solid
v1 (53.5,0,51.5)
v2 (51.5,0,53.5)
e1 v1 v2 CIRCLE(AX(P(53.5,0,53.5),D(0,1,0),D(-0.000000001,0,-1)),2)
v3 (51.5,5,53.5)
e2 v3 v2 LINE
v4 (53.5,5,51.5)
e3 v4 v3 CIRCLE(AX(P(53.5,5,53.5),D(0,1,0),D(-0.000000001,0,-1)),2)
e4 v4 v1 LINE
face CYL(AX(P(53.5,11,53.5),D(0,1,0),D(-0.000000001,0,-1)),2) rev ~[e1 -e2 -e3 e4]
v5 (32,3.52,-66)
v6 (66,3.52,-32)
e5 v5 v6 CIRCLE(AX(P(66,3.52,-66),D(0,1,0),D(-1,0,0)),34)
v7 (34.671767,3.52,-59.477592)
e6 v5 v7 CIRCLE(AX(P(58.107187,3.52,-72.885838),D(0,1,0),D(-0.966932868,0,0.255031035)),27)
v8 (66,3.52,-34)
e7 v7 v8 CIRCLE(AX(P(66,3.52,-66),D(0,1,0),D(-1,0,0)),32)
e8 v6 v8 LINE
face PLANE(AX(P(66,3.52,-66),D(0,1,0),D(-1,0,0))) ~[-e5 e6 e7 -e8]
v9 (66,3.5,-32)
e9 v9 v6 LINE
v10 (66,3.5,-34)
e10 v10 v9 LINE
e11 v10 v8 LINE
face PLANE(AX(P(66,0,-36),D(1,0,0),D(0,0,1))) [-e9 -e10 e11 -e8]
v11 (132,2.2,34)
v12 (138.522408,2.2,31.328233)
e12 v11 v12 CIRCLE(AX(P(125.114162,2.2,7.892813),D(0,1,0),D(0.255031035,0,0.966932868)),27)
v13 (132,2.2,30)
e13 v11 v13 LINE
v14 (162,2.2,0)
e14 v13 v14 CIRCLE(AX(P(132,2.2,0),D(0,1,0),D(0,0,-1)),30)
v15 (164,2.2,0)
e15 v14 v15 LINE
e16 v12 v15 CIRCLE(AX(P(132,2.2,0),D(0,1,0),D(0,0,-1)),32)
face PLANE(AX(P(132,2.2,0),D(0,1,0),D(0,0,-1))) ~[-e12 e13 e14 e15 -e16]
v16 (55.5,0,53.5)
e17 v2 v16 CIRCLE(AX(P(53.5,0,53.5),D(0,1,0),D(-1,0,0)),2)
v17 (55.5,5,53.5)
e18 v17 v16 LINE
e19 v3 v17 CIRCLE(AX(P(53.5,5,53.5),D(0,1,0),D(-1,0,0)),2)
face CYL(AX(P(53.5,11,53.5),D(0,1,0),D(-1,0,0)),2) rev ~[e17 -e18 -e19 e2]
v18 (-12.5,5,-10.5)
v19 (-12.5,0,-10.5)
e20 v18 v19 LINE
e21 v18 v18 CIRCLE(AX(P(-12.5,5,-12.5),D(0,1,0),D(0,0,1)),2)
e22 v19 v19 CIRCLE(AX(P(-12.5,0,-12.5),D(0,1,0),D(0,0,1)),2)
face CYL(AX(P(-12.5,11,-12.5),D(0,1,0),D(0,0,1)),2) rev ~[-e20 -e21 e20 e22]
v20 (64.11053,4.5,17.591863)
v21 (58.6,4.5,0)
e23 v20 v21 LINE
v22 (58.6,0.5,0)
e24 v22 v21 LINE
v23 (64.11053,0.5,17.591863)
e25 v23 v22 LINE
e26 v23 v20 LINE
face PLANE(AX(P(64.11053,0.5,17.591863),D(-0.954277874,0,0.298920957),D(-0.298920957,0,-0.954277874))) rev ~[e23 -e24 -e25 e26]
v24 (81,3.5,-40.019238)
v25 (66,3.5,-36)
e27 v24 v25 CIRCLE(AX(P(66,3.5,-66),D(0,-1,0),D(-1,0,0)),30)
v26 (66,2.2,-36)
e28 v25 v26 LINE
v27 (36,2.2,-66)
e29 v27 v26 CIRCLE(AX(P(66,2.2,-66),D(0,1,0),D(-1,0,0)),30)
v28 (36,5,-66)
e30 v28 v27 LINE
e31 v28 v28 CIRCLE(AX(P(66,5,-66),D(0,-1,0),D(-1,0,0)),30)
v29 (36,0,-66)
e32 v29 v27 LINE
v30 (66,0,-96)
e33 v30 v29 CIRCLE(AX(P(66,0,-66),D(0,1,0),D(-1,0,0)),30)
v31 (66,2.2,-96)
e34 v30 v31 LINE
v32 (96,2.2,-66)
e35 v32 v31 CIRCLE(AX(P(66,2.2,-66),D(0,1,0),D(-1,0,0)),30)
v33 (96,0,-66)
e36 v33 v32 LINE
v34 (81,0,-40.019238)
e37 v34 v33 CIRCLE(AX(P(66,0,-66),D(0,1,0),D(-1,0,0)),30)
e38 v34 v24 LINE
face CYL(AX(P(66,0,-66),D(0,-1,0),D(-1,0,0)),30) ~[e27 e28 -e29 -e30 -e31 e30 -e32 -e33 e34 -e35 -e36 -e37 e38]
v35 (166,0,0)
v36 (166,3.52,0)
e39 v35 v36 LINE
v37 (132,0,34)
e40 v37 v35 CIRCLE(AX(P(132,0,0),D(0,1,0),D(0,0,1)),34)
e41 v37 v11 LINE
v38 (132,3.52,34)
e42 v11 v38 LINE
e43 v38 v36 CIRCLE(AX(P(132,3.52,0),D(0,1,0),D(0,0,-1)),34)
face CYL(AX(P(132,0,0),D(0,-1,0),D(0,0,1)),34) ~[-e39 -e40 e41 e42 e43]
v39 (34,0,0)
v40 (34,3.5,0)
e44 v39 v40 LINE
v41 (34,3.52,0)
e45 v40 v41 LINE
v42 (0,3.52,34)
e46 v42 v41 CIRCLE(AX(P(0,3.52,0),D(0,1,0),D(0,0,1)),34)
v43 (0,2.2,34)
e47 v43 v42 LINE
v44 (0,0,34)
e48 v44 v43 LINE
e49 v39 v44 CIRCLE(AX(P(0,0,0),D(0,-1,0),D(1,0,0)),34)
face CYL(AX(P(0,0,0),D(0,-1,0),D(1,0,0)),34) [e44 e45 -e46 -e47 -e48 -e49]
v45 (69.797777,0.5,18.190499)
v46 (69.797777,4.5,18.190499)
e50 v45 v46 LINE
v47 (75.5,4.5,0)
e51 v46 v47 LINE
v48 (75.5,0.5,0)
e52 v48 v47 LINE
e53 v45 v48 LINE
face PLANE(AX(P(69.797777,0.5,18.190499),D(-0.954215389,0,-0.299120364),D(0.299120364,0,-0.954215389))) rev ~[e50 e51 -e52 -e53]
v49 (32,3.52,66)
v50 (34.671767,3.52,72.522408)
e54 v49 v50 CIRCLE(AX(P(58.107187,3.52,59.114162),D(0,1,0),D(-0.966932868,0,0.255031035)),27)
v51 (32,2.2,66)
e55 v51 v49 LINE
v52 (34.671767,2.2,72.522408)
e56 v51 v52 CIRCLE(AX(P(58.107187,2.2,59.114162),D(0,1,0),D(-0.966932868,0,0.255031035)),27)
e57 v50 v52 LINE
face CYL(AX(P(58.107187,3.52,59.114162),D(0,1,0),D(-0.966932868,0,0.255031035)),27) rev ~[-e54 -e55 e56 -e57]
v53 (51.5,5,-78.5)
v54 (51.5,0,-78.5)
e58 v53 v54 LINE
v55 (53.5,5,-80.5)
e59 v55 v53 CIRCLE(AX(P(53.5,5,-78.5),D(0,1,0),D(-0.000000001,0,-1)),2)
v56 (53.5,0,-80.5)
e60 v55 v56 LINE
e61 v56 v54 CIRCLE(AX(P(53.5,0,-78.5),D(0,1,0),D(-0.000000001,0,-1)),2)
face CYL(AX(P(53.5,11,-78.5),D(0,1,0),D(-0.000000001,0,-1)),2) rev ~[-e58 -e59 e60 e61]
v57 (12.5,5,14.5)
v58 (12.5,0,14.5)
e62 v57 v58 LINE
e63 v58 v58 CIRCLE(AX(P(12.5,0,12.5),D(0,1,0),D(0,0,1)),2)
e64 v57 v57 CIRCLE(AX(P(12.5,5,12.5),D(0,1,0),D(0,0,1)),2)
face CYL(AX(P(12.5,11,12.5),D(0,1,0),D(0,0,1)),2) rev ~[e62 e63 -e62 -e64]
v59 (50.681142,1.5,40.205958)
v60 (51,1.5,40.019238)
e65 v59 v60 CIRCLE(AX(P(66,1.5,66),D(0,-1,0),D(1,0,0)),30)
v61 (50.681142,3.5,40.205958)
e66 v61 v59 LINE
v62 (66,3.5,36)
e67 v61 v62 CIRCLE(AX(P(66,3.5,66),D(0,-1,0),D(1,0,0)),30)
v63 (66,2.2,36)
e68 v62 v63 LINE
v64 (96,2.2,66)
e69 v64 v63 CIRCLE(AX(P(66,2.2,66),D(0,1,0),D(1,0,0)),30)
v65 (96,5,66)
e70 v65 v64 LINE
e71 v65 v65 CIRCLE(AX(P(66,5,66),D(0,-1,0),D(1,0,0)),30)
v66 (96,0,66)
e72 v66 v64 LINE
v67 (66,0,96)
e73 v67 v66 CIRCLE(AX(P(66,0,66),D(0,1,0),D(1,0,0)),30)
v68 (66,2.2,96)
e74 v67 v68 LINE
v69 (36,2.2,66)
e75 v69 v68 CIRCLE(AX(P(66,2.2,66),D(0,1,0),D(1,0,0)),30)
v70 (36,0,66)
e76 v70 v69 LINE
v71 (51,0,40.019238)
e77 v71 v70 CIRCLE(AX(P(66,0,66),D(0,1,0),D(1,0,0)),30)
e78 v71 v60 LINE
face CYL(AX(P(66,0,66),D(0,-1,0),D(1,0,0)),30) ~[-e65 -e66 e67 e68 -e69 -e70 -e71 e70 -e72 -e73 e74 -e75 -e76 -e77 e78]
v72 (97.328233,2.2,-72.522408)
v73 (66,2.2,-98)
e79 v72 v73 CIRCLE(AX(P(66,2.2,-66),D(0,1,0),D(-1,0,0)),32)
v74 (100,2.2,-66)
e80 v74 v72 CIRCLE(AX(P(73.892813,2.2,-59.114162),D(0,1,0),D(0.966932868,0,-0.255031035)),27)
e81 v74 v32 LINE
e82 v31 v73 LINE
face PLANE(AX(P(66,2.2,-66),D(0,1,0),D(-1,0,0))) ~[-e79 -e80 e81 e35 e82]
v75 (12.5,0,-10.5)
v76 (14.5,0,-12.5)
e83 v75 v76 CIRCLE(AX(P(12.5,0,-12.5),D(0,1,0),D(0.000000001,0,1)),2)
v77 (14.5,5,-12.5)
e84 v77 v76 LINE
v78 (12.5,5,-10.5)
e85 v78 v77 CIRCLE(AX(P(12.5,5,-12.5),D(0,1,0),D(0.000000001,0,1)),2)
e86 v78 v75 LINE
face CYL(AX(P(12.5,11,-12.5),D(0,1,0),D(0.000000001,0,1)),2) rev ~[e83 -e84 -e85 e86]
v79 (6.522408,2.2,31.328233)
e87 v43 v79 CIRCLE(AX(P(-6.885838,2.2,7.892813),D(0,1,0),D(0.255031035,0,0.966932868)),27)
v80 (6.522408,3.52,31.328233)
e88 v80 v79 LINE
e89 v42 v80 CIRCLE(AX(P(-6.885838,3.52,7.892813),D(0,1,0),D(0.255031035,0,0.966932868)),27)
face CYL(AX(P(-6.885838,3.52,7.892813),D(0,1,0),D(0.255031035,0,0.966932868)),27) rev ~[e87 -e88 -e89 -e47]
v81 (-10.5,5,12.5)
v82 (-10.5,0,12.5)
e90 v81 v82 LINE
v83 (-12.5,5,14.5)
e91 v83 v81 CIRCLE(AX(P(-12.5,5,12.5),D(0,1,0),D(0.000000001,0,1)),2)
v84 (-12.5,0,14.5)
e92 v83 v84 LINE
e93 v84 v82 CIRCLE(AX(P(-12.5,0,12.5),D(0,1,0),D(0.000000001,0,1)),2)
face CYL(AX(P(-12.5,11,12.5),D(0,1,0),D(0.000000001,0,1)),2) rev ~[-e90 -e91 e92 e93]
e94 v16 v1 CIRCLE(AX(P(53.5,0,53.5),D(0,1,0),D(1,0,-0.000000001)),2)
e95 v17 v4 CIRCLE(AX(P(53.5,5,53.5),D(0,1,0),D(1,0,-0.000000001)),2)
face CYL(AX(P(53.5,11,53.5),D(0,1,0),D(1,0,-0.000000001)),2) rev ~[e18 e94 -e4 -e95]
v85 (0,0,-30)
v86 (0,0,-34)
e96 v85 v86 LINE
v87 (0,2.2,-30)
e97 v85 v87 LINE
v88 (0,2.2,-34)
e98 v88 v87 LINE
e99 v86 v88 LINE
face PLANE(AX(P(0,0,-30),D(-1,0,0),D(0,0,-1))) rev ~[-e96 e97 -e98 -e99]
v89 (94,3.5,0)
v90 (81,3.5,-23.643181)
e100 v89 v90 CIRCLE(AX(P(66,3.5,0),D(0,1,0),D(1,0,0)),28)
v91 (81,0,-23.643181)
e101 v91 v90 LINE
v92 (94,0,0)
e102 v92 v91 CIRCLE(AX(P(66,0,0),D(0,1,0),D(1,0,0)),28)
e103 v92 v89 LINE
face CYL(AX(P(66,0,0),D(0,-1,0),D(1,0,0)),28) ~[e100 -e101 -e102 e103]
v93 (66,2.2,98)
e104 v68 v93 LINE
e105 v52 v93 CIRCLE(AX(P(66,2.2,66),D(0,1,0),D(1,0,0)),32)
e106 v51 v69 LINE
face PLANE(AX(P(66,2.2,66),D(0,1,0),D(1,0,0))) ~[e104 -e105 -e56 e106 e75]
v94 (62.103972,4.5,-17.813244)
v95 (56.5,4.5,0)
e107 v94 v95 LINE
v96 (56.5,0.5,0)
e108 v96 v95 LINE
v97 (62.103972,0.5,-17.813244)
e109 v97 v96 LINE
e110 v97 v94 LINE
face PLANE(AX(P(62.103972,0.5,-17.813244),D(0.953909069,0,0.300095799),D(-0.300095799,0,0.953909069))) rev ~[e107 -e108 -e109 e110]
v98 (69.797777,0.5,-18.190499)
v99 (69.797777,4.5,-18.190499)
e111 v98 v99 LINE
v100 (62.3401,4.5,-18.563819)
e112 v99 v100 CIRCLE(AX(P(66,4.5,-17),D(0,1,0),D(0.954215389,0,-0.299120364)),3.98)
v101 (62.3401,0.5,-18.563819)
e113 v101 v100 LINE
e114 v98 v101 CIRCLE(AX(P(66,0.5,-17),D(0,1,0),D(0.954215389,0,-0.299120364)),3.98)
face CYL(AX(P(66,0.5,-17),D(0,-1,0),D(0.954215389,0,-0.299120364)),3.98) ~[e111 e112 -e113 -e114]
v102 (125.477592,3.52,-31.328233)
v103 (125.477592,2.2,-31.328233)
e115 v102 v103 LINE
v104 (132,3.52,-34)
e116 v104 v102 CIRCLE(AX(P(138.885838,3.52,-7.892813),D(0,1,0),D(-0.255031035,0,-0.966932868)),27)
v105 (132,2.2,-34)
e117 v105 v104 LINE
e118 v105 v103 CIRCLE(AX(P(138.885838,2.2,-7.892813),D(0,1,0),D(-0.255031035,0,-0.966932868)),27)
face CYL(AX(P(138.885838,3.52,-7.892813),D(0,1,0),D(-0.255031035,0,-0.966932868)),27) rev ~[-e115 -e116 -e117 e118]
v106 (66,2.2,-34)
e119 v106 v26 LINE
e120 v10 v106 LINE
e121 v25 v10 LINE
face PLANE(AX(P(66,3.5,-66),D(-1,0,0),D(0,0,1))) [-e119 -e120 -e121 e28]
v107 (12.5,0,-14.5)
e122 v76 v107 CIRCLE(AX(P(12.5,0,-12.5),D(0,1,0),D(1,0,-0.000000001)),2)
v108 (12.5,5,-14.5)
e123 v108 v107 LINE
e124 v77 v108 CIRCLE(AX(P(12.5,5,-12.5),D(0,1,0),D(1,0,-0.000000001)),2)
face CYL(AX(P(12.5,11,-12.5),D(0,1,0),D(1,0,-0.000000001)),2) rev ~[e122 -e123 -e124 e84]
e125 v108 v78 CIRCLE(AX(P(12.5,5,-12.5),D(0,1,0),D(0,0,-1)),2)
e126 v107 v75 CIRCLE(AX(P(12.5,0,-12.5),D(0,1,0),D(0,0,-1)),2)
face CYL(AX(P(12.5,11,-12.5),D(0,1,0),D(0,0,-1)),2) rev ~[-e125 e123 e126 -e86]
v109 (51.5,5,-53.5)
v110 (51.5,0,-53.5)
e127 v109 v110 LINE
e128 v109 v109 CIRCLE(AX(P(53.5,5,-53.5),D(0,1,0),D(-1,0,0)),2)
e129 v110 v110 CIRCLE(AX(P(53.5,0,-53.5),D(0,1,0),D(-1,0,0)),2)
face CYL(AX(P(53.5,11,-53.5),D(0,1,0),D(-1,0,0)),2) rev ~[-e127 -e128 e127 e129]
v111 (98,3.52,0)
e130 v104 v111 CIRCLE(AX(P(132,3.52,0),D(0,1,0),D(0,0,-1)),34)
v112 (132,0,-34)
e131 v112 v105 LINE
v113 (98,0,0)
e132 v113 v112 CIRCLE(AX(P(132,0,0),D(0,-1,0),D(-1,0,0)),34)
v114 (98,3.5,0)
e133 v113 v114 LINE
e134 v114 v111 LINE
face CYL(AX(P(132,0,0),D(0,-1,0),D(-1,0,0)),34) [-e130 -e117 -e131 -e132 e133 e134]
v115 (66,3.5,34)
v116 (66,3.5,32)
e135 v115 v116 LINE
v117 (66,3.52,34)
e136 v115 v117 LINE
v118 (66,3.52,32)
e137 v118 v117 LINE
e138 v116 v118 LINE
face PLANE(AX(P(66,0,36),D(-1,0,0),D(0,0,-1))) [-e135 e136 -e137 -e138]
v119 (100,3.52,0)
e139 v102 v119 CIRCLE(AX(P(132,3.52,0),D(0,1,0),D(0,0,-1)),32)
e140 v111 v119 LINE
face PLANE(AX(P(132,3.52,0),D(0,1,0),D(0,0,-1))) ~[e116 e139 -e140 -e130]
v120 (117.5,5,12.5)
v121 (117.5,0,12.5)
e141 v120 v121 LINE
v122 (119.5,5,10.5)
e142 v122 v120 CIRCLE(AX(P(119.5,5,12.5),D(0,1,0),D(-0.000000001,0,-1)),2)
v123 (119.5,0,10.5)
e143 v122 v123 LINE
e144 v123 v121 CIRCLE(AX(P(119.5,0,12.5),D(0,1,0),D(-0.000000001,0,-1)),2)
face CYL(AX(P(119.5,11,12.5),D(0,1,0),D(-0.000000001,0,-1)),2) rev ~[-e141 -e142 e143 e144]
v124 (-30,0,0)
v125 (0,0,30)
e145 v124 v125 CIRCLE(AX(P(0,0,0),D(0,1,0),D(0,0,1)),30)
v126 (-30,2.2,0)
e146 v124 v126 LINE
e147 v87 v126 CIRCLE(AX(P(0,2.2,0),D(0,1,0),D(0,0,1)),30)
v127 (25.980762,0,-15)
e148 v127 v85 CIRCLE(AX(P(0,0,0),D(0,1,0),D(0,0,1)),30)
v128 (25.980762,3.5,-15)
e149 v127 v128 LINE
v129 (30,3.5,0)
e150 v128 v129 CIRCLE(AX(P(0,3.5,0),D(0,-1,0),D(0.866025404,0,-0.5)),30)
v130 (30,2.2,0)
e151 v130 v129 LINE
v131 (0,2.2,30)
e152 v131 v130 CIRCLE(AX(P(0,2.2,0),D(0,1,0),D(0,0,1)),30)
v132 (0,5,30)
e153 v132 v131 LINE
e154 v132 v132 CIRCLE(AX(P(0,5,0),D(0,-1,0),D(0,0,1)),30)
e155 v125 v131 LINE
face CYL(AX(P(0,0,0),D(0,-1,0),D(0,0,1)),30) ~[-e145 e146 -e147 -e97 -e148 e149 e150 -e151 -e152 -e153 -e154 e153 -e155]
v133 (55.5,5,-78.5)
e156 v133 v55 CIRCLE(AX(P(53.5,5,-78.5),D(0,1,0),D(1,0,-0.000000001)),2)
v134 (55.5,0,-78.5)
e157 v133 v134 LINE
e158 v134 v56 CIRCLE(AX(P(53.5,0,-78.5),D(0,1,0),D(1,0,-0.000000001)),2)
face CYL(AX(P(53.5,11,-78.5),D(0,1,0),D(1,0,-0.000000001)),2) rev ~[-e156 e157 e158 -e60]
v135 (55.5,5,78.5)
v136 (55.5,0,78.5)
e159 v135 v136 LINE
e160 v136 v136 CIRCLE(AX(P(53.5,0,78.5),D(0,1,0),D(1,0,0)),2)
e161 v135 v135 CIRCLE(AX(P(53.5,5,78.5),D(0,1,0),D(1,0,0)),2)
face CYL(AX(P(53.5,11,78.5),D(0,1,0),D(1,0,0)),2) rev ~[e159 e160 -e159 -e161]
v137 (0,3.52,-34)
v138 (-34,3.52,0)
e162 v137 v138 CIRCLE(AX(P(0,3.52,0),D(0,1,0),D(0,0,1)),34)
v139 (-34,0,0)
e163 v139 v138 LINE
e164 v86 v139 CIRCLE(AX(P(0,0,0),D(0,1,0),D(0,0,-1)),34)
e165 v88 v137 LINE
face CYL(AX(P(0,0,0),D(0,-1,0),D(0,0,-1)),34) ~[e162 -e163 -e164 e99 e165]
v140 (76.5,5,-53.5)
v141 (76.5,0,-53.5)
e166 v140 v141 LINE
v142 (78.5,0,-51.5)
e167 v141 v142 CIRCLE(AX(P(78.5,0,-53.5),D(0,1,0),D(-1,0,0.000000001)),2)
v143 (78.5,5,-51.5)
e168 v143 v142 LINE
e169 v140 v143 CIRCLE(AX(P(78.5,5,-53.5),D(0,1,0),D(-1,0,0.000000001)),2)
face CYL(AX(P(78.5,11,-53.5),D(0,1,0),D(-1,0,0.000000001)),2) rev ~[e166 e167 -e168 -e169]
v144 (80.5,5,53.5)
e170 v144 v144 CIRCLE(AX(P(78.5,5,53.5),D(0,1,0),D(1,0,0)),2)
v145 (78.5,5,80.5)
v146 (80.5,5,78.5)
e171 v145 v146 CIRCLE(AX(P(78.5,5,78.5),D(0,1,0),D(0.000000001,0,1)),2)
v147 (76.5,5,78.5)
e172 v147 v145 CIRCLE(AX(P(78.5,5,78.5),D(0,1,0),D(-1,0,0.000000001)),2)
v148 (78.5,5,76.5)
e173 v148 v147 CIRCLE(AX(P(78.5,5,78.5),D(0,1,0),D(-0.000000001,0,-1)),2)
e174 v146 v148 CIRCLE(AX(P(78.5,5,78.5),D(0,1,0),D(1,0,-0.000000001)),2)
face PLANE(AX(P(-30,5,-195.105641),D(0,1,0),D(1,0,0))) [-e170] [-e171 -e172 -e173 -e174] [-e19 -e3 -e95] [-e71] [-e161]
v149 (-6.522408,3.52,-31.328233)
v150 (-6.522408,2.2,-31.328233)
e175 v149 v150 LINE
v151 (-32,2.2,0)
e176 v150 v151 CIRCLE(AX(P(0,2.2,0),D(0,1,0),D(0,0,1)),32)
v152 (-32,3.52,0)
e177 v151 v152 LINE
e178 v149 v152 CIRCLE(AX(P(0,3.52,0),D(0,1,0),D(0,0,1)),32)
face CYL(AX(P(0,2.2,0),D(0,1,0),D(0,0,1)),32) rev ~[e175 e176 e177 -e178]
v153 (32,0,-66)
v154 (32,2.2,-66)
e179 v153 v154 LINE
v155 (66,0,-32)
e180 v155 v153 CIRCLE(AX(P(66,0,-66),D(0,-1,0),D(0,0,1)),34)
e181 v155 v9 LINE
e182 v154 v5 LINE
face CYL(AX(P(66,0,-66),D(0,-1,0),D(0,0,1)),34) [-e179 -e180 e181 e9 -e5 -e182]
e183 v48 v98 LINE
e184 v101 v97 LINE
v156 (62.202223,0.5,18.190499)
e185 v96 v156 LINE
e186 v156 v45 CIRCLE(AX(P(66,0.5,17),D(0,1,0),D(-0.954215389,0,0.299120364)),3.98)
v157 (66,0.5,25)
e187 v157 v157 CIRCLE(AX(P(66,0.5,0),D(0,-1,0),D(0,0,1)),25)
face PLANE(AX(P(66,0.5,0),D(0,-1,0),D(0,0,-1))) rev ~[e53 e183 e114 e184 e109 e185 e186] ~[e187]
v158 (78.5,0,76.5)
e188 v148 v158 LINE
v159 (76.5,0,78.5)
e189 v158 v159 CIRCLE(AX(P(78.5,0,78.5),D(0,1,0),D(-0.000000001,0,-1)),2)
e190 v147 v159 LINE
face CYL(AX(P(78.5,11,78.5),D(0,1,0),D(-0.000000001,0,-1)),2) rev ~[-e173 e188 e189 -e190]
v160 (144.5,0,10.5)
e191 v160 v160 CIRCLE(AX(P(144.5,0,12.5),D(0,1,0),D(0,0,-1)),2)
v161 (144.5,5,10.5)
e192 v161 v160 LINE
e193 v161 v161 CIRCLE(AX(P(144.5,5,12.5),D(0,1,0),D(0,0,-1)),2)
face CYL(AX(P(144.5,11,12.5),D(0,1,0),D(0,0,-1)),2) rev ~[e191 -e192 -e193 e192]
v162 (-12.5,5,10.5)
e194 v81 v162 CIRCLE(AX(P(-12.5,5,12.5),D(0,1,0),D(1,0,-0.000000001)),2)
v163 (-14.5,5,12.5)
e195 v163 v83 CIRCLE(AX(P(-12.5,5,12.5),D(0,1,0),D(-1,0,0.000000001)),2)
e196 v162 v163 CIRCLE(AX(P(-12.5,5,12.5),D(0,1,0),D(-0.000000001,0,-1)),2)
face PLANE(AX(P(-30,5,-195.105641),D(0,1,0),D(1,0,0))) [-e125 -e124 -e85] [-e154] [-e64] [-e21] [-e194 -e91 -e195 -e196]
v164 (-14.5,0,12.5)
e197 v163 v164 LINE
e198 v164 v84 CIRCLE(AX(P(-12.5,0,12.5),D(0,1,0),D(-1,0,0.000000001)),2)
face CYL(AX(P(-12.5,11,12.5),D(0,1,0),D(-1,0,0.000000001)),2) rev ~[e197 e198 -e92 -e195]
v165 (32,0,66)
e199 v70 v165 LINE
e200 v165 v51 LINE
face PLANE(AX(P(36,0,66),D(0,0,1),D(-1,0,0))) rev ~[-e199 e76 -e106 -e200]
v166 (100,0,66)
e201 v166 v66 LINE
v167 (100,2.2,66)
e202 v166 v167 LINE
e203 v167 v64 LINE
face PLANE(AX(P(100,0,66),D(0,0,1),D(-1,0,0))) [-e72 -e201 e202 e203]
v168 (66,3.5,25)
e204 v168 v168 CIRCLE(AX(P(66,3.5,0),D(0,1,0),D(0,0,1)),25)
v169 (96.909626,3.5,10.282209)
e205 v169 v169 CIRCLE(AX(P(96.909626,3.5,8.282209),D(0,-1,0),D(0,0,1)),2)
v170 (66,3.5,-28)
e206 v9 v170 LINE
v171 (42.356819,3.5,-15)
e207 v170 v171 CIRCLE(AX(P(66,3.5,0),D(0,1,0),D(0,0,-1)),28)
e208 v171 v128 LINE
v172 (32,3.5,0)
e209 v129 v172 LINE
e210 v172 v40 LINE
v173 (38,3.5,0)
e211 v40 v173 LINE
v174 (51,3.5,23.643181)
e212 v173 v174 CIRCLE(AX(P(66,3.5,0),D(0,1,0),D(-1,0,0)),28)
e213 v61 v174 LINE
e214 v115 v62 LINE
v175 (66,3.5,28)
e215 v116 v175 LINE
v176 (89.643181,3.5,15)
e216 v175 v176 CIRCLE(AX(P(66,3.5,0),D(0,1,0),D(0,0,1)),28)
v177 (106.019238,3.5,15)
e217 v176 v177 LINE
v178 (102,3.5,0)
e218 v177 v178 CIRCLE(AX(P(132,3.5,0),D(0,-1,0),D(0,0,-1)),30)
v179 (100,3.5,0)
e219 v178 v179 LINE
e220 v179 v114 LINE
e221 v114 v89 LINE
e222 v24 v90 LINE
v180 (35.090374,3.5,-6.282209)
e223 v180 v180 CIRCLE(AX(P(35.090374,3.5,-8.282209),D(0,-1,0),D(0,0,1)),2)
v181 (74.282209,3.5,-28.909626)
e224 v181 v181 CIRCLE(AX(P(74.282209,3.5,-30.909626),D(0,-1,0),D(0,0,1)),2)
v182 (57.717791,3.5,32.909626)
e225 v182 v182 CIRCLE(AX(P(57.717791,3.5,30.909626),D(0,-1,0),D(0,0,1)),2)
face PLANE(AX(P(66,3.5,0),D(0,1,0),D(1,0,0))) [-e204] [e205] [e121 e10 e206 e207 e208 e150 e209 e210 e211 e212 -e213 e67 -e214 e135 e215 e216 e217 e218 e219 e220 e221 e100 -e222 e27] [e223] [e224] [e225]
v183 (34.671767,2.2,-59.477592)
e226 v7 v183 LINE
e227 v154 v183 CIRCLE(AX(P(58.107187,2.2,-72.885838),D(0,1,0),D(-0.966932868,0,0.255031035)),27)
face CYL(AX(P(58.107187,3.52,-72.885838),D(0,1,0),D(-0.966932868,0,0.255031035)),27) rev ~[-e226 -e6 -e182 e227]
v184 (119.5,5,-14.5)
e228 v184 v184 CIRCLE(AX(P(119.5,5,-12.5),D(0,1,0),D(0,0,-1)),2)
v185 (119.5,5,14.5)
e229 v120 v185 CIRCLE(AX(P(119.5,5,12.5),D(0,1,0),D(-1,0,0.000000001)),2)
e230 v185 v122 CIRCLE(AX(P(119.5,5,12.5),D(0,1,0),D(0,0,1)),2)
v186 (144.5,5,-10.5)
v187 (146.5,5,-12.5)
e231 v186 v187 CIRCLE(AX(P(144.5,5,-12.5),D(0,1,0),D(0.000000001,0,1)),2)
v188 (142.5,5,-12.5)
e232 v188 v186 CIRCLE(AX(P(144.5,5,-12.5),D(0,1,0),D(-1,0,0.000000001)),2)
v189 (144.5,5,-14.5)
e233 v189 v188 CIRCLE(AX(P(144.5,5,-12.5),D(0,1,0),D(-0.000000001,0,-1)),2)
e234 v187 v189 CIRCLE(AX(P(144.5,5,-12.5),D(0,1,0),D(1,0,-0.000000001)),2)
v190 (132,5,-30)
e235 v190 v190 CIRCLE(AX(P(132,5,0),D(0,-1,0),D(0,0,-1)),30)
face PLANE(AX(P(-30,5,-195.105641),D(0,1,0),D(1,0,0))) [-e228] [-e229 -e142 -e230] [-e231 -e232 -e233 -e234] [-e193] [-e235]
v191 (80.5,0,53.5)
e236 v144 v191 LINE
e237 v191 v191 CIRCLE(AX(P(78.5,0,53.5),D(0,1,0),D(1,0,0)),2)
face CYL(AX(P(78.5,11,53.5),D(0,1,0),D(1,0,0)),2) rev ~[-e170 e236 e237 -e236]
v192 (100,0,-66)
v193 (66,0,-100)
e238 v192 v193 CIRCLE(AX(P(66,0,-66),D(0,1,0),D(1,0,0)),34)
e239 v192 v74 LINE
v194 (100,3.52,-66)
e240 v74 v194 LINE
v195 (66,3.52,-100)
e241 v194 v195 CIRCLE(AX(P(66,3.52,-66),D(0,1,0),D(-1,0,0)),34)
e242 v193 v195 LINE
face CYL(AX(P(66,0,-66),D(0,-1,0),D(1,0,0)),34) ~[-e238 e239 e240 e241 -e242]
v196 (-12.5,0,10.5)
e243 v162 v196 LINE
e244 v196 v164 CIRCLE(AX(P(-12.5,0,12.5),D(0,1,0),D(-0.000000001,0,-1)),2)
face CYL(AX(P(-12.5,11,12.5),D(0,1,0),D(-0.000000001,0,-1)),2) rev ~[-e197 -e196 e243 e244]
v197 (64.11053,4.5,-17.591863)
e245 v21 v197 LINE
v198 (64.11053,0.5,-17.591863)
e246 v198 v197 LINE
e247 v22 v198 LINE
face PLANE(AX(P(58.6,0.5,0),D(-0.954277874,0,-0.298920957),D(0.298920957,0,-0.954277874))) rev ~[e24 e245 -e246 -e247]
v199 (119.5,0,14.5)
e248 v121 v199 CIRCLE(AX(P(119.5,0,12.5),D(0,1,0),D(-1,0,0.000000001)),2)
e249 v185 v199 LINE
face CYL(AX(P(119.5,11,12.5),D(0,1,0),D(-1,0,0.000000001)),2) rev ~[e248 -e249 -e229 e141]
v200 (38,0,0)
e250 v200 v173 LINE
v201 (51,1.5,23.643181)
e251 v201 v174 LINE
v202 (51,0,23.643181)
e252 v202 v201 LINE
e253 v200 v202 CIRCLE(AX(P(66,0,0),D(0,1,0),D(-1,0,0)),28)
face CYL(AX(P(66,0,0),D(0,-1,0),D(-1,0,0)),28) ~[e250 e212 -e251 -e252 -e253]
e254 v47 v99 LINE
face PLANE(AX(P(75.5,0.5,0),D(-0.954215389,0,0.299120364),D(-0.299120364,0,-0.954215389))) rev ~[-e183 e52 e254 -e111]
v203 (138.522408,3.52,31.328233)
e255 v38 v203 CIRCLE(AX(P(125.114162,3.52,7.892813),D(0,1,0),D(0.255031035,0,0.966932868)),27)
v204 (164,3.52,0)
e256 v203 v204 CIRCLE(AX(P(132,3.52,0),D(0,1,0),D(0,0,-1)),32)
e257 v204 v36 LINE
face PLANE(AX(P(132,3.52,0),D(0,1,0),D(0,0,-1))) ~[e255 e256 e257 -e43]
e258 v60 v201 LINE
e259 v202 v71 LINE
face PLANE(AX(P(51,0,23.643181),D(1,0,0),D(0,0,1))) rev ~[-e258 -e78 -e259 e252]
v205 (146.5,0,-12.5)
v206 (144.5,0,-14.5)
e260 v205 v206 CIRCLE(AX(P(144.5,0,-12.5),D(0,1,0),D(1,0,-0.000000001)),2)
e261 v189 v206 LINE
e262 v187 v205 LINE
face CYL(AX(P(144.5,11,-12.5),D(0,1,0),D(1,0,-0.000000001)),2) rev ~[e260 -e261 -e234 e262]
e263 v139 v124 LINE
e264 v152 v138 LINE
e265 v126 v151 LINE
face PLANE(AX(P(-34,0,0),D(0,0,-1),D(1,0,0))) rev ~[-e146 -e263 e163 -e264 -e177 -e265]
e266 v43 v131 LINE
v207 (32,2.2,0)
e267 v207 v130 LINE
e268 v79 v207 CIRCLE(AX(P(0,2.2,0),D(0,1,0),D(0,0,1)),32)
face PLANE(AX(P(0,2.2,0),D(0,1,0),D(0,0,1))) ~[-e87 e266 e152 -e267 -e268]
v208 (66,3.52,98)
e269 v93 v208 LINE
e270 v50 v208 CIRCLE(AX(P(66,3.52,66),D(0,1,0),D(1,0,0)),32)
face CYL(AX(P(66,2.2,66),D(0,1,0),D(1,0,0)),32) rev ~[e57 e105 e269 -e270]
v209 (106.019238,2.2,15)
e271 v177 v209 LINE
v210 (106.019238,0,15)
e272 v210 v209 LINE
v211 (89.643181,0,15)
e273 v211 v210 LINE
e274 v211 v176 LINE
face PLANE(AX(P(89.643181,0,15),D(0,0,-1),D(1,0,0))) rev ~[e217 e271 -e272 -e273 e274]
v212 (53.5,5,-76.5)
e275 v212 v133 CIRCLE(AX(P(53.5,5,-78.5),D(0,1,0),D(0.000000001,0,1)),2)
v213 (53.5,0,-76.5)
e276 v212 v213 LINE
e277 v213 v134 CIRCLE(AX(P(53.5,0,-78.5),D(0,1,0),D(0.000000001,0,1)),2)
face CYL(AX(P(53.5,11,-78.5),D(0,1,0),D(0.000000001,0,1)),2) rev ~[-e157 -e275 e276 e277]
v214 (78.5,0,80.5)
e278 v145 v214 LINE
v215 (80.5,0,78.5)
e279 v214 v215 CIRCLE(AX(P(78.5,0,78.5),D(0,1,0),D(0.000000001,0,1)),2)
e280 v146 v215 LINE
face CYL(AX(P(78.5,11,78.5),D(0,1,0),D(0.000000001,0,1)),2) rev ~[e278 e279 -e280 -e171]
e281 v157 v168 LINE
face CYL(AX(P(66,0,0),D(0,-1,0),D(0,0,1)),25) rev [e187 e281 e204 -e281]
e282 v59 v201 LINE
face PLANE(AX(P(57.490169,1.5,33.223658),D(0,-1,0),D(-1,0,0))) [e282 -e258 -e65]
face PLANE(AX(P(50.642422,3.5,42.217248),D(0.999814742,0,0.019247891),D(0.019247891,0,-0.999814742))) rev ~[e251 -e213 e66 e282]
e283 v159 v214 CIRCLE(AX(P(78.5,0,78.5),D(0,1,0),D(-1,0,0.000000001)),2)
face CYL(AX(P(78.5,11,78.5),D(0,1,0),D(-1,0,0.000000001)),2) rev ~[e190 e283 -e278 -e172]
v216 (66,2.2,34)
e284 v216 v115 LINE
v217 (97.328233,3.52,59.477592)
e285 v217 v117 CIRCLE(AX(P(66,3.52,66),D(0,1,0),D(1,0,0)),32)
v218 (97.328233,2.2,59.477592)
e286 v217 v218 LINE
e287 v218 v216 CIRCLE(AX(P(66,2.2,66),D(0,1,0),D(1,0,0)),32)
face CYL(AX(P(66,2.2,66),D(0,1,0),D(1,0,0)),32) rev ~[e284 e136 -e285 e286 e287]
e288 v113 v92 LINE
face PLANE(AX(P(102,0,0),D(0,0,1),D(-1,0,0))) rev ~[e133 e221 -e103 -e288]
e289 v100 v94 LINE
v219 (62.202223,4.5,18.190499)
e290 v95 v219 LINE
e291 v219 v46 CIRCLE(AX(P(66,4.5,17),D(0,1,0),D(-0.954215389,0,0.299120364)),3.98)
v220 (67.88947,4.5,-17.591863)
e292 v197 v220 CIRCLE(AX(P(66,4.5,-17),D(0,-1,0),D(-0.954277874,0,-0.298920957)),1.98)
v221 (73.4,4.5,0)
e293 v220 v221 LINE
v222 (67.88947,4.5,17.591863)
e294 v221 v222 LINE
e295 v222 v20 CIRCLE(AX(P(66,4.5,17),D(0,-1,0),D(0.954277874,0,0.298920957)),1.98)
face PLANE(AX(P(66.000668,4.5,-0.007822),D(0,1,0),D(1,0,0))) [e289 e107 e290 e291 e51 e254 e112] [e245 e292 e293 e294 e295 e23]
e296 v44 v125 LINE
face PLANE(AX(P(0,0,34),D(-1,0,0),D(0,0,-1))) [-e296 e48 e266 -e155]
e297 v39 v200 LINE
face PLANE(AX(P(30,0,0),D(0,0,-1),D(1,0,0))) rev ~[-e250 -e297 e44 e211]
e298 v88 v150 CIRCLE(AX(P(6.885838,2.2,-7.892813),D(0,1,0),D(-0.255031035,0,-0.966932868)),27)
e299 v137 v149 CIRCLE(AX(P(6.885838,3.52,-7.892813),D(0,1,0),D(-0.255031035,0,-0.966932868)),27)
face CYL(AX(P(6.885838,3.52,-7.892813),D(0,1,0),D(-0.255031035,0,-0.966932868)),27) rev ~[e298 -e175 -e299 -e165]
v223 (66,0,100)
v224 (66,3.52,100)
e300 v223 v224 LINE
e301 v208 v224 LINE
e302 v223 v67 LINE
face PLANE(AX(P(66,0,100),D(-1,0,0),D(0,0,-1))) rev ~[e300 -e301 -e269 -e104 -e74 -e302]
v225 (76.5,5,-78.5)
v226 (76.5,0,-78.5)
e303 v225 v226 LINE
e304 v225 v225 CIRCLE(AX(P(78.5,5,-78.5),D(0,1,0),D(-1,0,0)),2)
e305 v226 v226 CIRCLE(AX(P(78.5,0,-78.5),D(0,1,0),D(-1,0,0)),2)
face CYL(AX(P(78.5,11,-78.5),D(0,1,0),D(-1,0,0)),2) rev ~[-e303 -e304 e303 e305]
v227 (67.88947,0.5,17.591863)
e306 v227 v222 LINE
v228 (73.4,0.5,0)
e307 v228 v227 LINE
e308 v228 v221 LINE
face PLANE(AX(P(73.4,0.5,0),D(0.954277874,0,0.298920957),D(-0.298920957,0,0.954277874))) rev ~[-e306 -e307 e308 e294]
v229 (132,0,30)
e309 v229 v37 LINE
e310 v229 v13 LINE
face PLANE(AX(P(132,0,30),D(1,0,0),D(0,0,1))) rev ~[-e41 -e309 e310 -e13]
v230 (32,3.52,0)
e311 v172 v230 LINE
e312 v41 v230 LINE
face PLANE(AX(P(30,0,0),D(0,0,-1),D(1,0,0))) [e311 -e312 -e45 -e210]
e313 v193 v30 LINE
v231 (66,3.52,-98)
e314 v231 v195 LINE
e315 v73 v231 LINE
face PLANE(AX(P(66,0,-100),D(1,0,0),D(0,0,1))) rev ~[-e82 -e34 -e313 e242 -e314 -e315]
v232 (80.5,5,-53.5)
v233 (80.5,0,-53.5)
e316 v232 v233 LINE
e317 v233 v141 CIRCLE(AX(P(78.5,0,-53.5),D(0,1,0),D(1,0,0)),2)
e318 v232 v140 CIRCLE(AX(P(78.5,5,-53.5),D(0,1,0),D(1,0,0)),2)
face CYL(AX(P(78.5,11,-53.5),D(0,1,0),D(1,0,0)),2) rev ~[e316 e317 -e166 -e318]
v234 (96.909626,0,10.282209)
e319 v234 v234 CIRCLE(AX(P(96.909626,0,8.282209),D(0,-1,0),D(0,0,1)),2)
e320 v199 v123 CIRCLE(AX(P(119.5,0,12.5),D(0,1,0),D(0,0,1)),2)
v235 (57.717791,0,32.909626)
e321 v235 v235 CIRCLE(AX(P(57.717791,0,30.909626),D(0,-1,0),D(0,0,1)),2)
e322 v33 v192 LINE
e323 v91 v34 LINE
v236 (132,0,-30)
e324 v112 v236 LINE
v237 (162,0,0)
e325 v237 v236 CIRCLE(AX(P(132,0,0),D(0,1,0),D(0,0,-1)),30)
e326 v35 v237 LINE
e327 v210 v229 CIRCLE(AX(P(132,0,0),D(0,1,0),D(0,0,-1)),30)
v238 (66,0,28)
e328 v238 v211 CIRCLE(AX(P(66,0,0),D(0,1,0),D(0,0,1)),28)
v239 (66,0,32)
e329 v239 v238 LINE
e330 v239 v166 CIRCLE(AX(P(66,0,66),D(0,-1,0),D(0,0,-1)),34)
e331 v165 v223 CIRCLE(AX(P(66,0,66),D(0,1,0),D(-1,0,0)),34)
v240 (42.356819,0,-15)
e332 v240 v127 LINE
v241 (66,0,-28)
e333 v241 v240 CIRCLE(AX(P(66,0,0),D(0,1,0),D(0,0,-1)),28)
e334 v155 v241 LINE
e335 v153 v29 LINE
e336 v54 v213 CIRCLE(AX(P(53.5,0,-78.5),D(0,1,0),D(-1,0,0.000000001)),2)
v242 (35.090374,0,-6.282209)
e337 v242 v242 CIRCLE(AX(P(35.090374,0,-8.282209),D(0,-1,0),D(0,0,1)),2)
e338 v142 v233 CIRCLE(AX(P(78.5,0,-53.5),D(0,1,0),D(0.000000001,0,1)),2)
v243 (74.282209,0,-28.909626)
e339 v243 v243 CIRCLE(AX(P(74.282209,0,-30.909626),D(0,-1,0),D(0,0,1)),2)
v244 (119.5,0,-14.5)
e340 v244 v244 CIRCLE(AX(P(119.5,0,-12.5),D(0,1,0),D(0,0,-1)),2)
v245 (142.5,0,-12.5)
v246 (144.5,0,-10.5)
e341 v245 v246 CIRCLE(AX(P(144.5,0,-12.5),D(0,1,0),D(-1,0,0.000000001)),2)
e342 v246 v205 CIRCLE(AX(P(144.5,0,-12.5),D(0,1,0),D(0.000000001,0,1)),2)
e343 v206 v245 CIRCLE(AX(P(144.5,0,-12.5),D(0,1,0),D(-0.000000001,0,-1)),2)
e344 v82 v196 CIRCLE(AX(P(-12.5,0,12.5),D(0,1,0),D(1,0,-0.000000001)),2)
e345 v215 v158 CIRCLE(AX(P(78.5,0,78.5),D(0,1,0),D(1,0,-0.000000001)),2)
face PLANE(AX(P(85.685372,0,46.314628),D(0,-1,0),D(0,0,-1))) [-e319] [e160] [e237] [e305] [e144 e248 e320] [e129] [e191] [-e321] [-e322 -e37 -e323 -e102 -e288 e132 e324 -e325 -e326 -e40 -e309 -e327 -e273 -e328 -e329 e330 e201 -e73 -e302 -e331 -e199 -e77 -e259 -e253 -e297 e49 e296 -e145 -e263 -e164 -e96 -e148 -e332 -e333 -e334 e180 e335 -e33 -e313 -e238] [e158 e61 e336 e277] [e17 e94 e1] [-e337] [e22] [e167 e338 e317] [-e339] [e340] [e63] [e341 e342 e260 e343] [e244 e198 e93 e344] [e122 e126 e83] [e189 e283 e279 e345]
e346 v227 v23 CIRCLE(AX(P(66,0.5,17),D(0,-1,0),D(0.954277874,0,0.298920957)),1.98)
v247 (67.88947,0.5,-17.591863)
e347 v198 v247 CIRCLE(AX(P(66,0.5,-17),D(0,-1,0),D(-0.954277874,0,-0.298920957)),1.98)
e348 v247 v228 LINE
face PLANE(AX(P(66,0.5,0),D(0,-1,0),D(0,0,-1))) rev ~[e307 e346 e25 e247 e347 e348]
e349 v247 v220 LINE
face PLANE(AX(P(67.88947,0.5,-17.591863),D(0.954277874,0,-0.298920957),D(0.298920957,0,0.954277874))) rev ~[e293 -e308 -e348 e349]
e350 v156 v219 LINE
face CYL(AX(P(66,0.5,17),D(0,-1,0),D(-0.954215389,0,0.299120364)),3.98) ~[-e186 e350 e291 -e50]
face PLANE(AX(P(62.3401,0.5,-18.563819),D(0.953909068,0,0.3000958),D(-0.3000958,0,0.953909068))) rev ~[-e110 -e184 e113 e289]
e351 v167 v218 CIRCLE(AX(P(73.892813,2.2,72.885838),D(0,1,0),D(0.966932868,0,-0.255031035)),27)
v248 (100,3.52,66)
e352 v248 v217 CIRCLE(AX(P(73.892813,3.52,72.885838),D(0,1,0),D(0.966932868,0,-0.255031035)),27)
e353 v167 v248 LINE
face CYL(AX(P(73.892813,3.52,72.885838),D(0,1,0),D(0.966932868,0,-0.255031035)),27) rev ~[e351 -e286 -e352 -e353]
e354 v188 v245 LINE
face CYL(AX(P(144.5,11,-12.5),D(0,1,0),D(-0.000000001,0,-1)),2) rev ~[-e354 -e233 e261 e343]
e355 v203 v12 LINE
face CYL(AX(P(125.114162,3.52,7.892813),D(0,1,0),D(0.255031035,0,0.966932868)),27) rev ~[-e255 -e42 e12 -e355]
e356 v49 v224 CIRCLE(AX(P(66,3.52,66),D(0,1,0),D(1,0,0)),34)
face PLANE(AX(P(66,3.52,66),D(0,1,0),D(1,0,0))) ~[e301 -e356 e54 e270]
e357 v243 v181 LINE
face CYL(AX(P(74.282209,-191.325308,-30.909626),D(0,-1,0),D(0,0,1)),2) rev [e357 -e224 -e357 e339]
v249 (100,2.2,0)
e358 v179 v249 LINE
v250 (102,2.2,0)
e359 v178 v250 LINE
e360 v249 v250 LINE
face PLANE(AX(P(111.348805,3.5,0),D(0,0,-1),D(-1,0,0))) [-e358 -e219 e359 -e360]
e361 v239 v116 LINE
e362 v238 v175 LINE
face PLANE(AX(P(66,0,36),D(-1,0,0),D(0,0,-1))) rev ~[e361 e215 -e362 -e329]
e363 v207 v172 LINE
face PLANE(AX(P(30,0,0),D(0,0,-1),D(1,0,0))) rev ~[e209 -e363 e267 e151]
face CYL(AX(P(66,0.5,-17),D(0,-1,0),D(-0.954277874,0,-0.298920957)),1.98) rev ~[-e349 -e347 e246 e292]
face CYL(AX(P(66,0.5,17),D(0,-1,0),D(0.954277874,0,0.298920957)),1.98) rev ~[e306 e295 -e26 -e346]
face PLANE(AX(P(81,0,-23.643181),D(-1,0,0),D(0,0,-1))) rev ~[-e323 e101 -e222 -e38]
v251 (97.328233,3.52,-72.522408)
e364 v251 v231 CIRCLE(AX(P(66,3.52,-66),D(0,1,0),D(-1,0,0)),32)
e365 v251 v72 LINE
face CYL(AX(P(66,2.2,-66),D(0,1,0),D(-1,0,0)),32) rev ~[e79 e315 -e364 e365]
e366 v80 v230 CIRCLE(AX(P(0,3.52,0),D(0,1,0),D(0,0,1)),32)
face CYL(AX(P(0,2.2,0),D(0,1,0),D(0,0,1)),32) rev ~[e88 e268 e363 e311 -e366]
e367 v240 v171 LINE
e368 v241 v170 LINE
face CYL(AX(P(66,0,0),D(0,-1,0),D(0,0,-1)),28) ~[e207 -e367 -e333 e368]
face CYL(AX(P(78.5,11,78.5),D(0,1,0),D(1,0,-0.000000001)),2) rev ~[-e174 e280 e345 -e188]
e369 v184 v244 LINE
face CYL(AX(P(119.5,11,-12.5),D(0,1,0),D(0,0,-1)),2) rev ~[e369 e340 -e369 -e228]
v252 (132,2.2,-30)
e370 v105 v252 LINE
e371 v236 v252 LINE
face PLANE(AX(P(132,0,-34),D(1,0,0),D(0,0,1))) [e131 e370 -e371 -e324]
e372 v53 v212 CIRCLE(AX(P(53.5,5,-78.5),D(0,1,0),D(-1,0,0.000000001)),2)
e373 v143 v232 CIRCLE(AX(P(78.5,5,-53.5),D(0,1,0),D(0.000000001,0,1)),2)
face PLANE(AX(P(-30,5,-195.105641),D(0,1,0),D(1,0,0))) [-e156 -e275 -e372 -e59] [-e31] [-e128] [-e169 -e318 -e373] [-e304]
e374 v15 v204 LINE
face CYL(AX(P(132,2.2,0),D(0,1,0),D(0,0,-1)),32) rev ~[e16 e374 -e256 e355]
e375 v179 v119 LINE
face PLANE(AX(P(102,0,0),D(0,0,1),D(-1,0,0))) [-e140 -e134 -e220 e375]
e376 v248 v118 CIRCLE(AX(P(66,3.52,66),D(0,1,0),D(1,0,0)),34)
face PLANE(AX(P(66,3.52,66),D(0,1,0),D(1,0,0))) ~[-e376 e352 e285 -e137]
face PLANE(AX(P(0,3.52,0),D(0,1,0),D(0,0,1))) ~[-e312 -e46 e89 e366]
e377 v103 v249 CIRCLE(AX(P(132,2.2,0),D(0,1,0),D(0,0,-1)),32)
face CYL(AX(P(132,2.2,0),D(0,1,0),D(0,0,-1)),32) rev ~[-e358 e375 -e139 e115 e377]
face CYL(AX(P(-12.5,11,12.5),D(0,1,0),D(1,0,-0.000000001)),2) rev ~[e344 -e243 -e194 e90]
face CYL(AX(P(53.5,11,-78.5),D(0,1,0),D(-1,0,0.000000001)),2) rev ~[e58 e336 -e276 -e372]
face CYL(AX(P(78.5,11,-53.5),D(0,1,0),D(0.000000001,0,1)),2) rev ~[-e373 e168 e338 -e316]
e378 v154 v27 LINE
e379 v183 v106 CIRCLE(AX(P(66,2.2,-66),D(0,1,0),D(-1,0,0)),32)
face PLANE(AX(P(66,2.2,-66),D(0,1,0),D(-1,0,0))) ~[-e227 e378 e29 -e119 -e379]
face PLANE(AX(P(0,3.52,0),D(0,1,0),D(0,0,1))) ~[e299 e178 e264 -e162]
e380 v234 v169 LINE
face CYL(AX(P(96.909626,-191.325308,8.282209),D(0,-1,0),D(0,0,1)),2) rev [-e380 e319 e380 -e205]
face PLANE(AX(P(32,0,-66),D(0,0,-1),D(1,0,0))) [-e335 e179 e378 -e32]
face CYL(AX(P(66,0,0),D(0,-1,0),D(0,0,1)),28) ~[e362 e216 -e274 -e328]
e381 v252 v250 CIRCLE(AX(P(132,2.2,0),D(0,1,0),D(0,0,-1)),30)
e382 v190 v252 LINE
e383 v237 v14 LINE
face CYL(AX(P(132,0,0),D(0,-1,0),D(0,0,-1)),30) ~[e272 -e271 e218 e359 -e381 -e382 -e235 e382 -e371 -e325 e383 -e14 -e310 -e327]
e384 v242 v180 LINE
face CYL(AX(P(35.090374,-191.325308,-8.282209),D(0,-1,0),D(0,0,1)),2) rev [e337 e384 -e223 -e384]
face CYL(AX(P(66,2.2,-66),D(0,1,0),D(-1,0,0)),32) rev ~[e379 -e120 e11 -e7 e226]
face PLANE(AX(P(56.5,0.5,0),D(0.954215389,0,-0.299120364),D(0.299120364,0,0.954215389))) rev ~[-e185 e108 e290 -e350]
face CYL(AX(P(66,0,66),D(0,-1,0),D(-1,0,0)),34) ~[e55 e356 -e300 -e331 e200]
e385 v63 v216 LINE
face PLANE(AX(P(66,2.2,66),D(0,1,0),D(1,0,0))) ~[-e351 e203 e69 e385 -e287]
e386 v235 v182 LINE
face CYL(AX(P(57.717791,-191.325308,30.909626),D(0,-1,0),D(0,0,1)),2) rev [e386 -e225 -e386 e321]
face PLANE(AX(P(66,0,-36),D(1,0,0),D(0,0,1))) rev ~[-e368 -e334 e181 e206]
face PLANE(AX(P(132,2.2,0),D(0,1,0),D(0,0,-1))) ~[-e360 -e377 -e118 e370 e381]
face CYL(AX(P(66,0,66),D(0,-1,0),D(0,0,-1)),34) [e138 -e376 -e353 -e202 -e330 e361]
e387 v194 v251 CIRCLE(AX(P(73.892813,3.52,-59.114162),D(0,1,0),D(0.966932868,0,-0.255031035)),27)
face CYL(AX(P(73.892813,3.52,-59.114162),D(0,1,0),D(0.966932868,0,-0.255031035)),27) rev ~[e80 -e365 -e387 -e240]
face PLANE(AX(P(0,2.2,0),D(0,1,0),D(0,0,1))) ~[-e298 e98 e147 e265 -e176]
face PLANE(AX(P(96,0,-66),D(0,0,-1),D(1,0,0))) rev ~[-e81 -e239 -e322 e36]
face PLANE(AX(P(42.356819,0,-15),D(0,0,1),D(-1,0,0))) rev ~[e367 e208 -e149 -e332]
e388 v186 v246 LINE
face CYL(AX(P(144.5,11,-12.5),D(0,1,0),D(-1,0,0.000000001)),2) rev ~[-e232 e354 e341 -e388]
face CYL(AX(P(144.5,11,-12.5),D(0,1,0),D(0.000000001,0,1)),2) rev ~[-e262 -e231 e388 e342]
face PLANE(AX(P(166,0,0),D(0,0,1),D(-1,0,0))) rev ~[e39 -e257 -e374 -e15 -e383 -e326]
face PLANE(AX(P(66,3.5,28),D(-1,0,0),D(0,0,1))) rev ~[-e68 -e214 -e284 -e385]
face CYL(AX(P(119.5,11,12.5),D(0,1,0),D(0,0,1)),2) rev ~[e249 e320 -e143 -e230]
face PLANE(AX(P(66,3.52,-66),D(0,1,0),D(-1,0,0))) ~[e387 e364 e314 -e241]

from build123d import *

# Parameters (mm, degrees)
SKETCH_1_R                           = 30
EXTRUDE_1_DEPTH                      = 11
EXTRUDE_2_DEPTH                      = 4
CUT_EXTRUDE_1_DEPTH                  = 1.32
SKETCH_8_R                           = 2
CUT_EXTRUDE_2_DEPTH                  = 50.325449821
CHAMFER_2_SIZE                       = 2
SKETCH_11_R                          = 25
EXTRUDE_4_DEPTH                      = 3.5
SKETCH_12_R                          = 25
EXTRUDE_5_DEPTH                      = 0.5
EXTRUDE_7_DEPTH                      = 4
PATTERN_CIRCULAR_1_COUNT             = 4
CHAMFER_2_OF_PATTERN_CIRCULAR_1_SIZE = 2
CUT_EXTRUDE_3_DEPTH                  = 195.10564134
CUT_EXTRUDE_3_DEPTH_BACK             = 195.10564134
EXTRUDE_8_DEPTH                      = 2
CUT_EXTRUDE_4_DEPTH                  = 194.825307945
CUT_EXTRUDE_4_DEPTH_BACK             = 194.825307945
SKETCH_17_R                          = 2


with BuildPart() as part:
    # 草图1 → 凸台-拉伸1 (new body)
    with BuildSketch(Plane(origin=(0, 0, 0), x_dir=(1, 0, 0), z_dir=(0, 1, 0))):
        with Locations(Location((0, 0, 0), (0, 0, 270))):
            Circle(SKETCH_1_R)
    extrude_1 = extrude(amount=EXTRUDE_1_DEPTH)

    # 草图3 → 凸台-拉伸2 (add)
    with BuildSketch(Plane.XZ):
        with BuildLine():
            Line((-34, 0), (-30, 0))
            ThreePointArc((-30, 0), (-21.213203436, -21.213203436), (0, -30))
            Line((0, -30), (0, -34))
            ThreePointArc((0, -34), (-24.04163056, -24.04163056), (-34, 0))
        make_face()
        with BuildLine():
            Line((0, 34), (0, 30))
            ThreePointArc((0, 30), (21.213203436, 21.213203436), (30, 0))
            Line((30, 0), (34, 0))
            ThreePointArc((34, 0), (24.04163056, 24.04163056), (0, 34))
        make_face()
    extrude_2 = extrude(amount=-EXTRUDE_2_DEPTH)

    # 草图6 → 切除-旋转8 (revolve, cut)
    with BuildSketch(Plane(origin=(0, 0, 0), x_dir=(-1, 0, 0), z_dir=(0, 0, -1)), mode=Mode.PRIVATE) as cut_revolve_8_sk:
        Polygon((-30, 2.2), (-32, 2.2), (-32, 3.52), (-34, 3.52), (-34, 4), (-30, 4), align=None)
    cut_revolve_8 = revolve(cut_revolve_8_sk.sketch.rotate(Axis((0, 0, 0), (0, 1, 0)), 270), axis=Axis((0, 0, 0), (0, 1, 0)), mode=Mode.SUBTRACT)

    # 草图7 → 切除-拉伸1 (cut)
    with BuildSketch(Plane(origin=(0, 3.52, 0), x_dir=(1, 0, 0), z_dir=(0, 1, 0))):
        with BuildLine():
            Line((6.522408084, -31.328233158), (-2.191886095, -31.444458777))
            Line((-2.191886095, -31.444458777), (0, -34))
            ThreePointArc((0, -34), (3.348762467, -32.877867185), (6.522408084, -31.328233158))
        make_face()
        with BuildLine():
            Line((-6.522408084, 31.328233158), (2.581044054, 31.031256101))
            Line((2.581044054, 31.031256101), (0, 34))
            ThreePointArc((0, 34), (-3.348762467, 32.877867185), (-6.522408084, 31.328233158))
        make_face()
    cut_extrude_1 = extrude(amount=-CUT_EXTRUDE_1_DEPTH, mode=Mode.SUBTRACT)

    # 草图8 → 切除-拉伸2 (cut, through all)
    with BuildSketch(Plane(origin=(0, 11, 0), x_dir=(1, 0, 0), z_dir=(0, 1, 0))):
        with BuildLine():
            ThreePointArc((14.5, 12.5), (13.914213562, 13.914213562), (12.5, 14.5))
            Line((12.5, 14.5), (12.5, 10.5))
            ThreePointArc((12.5, 10.5), (13.914213562, 11.085786438), (14.5, 12.5))
        make_face()
        with BuildLine():
            Line((12.5, 10.5), (12.5, 14.5))
            ThreePointArc((12.5, 14.5), (10.5, 12.5), (12.5, 10.5))
        make_face()
        with BuildLine():
            ThreePointArc((-12.5, -10.5), (-13.914213562, -11.085786438), (-14.5, -12.5))
            Line((-14.5, -12.5), (-12.5, -12.5))
            Line((-12.5, -12.5), (-12.5, -10.5))
        make_face()
        with BuildLine():
            Line((-12.5, -12.5), (-14.5, -12.5))
            ThreePointArc((-14.5, -12.5), (-13.914213562, -13.914213562), (-12.5, -14.5))
            Line((-12.5, -14.5), (-12.5, -12.5))
        make_face()
        with BuildLine():
            ThreePointArc((-10.5, -12.5), (-11.085786438, -11.085786438), (-12.5, -10.5))
            Line((-12.5, -10.5), (-12.5, -12.5))
            Line((-12.5, -12.5), (-10.5, -12.5))
        make_face()
        with BuildLine():
            Line((-10.5, -12.5), (-12.5, -12.5))
            Line((-12.5, -12.5), (-12.5, -14.5))
            ThreePointArc((-12.5, -14.5), (-11.085786438, -13.914213562), (-10.5, -12.5))
        make_face()
        with Locations(Location((12.5, -12.5, 0), (0, 0, 270))):
            Circle(SKETCH_8_R)
        with Locations(Location((-12.5, 12.5, 0), (0, 0, 270))):
            Circle(SKETCH_8_R)
    cut_extrude_2 = extrude(amount=-CUT_EXTRUDE_2_DEPTH, mode=Mode.SUBTRACT)

    # 倒角2
    chamfer_2_edges = [part.edges().sort_by_distance(p)[0] for p in [
        (-12.5, 11, -14.5),
        (12.5, 11, 10.5),
        (-12.5, 11, 10.5),
        (12.5, 11, -14.5),
    ]]
    chamfer(chamfer_2_edges, length=CHAMFER_2_SIZE)

    # 草图11 → 凸台-拉伸4 (add)
    with BuildSketch(Plane(origin=(0, 0, 0), x_dir=(1, 0, 0), z_dir=(0, 1, 0))):
        with BuildLine():
            Line((30, 0), (38, 0))
            ThreePointArc((38, 0), (41.464311707, -13.490737563), (51, -23.643180835))
            Line((51, -23.643180835), (51, -40.019237886))
            ThreePointArc((51, -40.019237886), (58.235428647, -37.022225211), (66, -36))
            Line((66, -36), (66, -28))
            ThreePointArc((66, -28), (79.490737563, -24.535688293), (89.643180835, -15))
            Line((89.643180835, -15), (106.019237886, -15))
            ThreePointArc((106.019237886, -15), (103.022225211, -7.764571353), (102, 0))
            Line((102, 0), (94, 0))
            ThreePointArc((94, 0), (90.535688293, 13.490737563), (81, 23.643180835))
            Line((81, 23.643180835), (81, 40.019237886))
            ThreePointArc((81, 40.019237886), (73.764571353, 37.022225211), (66, 36))
            Line((66, 36), (66, 28))
            ThreePointArc((66, 28), (52.509262437, 24.535688293), (42.356819165, 15))
            Line((42.356819165, 15), (25.980762114, 15))
            ThreePointArc((25.980762114, 15), (28.977774789, 7.764571353), (30, 0))
        make_face()
        with Locations(Location((66, 0, 0), (0, 0, 270))):
            Circle(SKETCH_11_R, mode=Mode.SUBTRACT)
    extrude(amount=EXTRUDE_4_DEPTH)

    # 草图12 → 凸台-拉伸5 (add)
    with BuildSketch(Plane.XZ):
        with Locations(Location((66, 0, 0), (0, 0, 270))):
            Circle(SKETCH_12_R)
    extrude(amount=-EXTRUDE_5_DEPTH)

    # 草图13 → 凸台-拉伸7 (add)
    with BuildSketch(Plane(origin=(0, 0.5, 0), x_dir=(1, 0, 0), z_dir=(0, 1, 0))):
        with BuildLine():
            Line((62.103972011, 17.813244072), (56.5, 0))
            Line((56.5, 0), (62.202222754, -18.190499049))
            ThreePointArc((62.202222754, -18.190499049), (66, -20.98), (69.797777246, -18.190499049))
            Line((69.797777246, -18.190499049), (75.5, 0))
            Line((75.5, 0), (69.797777247, 18.190499048))
            ThreePointArc((69.797777247, 18.190499048), (66.198983725, 20.975022701), (62.340099833, 18.563819291))
            Line((62.340099833, 18.563819291), (62.103972011, 17.813244072))
        make_face()
        with BuildLine():
            Line((64.110529809, -17.591863495), (58.6, 0))
            Line((58.6, 0), (64.110529808, 17.591863494))
            ThreePointArc((64.110529808, 17.591863494), (66, 18.979999999), (67.889470191, 17.591863494))
            Line((67.889470191, 17.591863494), (73.4, 0))
            Line((73.4, 0), (67.889470191, -17.591863495))
            ThreePointArc((67.889470191, -17.591863495), (66, -18.98), (64.110529809, -17.591863495))
        make_face(mode=Mode.SUBTRACT)
    extrude(amount=EXTRUDE_7_DEPTH)

    # 阵列(圆周)1: 凸台-拉伸1, 凸台-拉伸2, 切除-旋转8, 切除-拉伸1, 切除-拉伸2 ×4 about axis
    pattern_circular_1_axis = Axis((66, 0, 0), (0, 1, 0))
    add([extrude_1.rotate(pattern_circular_1_axis, i * 360 / PATTERN_CIRCULAR_1_COUNT) for i in range(1, PATTERN_CIRCULAR_1_COUNT)])
    add([extrude_2.rotate(pattern_circular_1_axis, i * 360 / PATTERN_CIRCULAR_1_COUNT) for i in range(1, PATTERN_CIRCULAR_1_COUNT)])
    add([cut_revolve_8.rotate(pattern_circular_1_axis, i * 360 / PATTERN_CIRCULAR_1_COUNT) for i in range(1, PATTERN_CIRCULAR_1_COUNT)], mode=Mode.SUBTRACT)
    add([cut_extrude_1.rotate(pattern_circular_1_axis, i * 360 / PATTERN_CIRCULAR_1_COUNT) for i in range(1, PATTERN_CIRCULAR_1_COUNT)], mode=Mode.SUBTRACT)
    add([cut_extrude_2.rotate(pattern_circular_1_axis, i * 360 / PATTERN_CIRCULAR_1_COUNT) for i in range(1, PATTERN_CIRCULAR_1_COUNT)], mode=Mode.SUBTRACT)

    # 倒角2 of 阵列(圆周)1
    chamfer_2_of_pattern_circular_1_edges = [part.edges().sort_by_distance(p)[0] for p in [
        (51.5, 11, 78.5),
        (76.5, 11, 53.5),
        (76.5, 11, 78.5),
        (51.5, 11, 53.5),
        (144.5, 11, 14.5),
        (119.5, 11, -10.5),
        (144.5, 11, -10.5),
        (119.5, 11, 14.5),
        (80.5, 11, -78.5),
        (55.5, 11, -53.5),
        (55.5, 11, -78.5),
        (80.5, 11, -53.5),
    ]]
    chamfer(chamfer_2_of_pattern_circular_1_edges, length=CHAMFER_2_OF_PATTERN_CIRCULAR_1_SIZE)

    # 草图14 → 切除-拉伸3 (cut, two sides: drawn at the far end of the back side and taken through both)
    with BuildSketch(Plane.XY.offset(-CUT_EXTRUDE_3_DEPTH_BACK)):
        Polygon((-30, 11), (-30, 5), (176.975680525, 5), (176.975680525, 23.53934312), (-30, 23.53934312), align=None)
    extrude(amount=CUT_EXTRUDE_3_DEPTH + CUT_EXTRUDE_3_DEPTH_BACK, mode=Mode.SUBTRACT)

    # 草图15 → 凸台-拉伸8 (add)
    with BuildSketch(Plane(origin=(0, 3.5, 0), x_dir=(1, 0, 0), z_dir=(0, 1, 0))):
        Polygon((66, 34), (66, 37.303115958), (66, 66), (76.007187768, 45.066561644), (81, 42.202815596), (81, 37.73341195), (81, 32.535817428), align=None)
        Polygon((103.73341195, -15), (111.34880517, -15), (111.34880517, 0), (100, 0), (100, -15), align=None)
        Polygon((66, -28), (66, -39.176319492), (50.642422136, -42.217247803), (51, -23.643180835), align=None)
    extrude(amount=-EXTRUDE_8_DEPTH)

    # 草图17 → 切除-拉伸4 (cut, two sides: drawn at the far end of the back side and taken through both)
    with BuildSketch(Plane(origin=(0, 3.5, 0), x_dir=(1, 0, 0), z_dir=(0, 1, 0)).offset(-CUT_EXTRUDE_4_DEPTH_BACK)):
        with Locations(Location((35.090373559, 8.282209443, 0), (0, 0, 270))):
            Circle(SKETCH_17_R)
        with Locations(Location((74.282209443, 30.909626441, 0), (0, 0, 270))):
            Circle(SKETCH_17_R)
        with Locations(Location((96.909626441, -8.282209443, 0), (0, 0, 270))):
            Circle(SKETCH_17_R)
        with Locations(Location((57.717790557, -30.909626441, 0), (0, 0, 270))):
            Circle(SKETCH_17_R)
    extrude(amount=CUT_EXTRUDE_4_DEPTH + CUT_EXTRUDE_4_DEPTH_BACK, mode=Mode.SUBTRACT)


solid = part.part
